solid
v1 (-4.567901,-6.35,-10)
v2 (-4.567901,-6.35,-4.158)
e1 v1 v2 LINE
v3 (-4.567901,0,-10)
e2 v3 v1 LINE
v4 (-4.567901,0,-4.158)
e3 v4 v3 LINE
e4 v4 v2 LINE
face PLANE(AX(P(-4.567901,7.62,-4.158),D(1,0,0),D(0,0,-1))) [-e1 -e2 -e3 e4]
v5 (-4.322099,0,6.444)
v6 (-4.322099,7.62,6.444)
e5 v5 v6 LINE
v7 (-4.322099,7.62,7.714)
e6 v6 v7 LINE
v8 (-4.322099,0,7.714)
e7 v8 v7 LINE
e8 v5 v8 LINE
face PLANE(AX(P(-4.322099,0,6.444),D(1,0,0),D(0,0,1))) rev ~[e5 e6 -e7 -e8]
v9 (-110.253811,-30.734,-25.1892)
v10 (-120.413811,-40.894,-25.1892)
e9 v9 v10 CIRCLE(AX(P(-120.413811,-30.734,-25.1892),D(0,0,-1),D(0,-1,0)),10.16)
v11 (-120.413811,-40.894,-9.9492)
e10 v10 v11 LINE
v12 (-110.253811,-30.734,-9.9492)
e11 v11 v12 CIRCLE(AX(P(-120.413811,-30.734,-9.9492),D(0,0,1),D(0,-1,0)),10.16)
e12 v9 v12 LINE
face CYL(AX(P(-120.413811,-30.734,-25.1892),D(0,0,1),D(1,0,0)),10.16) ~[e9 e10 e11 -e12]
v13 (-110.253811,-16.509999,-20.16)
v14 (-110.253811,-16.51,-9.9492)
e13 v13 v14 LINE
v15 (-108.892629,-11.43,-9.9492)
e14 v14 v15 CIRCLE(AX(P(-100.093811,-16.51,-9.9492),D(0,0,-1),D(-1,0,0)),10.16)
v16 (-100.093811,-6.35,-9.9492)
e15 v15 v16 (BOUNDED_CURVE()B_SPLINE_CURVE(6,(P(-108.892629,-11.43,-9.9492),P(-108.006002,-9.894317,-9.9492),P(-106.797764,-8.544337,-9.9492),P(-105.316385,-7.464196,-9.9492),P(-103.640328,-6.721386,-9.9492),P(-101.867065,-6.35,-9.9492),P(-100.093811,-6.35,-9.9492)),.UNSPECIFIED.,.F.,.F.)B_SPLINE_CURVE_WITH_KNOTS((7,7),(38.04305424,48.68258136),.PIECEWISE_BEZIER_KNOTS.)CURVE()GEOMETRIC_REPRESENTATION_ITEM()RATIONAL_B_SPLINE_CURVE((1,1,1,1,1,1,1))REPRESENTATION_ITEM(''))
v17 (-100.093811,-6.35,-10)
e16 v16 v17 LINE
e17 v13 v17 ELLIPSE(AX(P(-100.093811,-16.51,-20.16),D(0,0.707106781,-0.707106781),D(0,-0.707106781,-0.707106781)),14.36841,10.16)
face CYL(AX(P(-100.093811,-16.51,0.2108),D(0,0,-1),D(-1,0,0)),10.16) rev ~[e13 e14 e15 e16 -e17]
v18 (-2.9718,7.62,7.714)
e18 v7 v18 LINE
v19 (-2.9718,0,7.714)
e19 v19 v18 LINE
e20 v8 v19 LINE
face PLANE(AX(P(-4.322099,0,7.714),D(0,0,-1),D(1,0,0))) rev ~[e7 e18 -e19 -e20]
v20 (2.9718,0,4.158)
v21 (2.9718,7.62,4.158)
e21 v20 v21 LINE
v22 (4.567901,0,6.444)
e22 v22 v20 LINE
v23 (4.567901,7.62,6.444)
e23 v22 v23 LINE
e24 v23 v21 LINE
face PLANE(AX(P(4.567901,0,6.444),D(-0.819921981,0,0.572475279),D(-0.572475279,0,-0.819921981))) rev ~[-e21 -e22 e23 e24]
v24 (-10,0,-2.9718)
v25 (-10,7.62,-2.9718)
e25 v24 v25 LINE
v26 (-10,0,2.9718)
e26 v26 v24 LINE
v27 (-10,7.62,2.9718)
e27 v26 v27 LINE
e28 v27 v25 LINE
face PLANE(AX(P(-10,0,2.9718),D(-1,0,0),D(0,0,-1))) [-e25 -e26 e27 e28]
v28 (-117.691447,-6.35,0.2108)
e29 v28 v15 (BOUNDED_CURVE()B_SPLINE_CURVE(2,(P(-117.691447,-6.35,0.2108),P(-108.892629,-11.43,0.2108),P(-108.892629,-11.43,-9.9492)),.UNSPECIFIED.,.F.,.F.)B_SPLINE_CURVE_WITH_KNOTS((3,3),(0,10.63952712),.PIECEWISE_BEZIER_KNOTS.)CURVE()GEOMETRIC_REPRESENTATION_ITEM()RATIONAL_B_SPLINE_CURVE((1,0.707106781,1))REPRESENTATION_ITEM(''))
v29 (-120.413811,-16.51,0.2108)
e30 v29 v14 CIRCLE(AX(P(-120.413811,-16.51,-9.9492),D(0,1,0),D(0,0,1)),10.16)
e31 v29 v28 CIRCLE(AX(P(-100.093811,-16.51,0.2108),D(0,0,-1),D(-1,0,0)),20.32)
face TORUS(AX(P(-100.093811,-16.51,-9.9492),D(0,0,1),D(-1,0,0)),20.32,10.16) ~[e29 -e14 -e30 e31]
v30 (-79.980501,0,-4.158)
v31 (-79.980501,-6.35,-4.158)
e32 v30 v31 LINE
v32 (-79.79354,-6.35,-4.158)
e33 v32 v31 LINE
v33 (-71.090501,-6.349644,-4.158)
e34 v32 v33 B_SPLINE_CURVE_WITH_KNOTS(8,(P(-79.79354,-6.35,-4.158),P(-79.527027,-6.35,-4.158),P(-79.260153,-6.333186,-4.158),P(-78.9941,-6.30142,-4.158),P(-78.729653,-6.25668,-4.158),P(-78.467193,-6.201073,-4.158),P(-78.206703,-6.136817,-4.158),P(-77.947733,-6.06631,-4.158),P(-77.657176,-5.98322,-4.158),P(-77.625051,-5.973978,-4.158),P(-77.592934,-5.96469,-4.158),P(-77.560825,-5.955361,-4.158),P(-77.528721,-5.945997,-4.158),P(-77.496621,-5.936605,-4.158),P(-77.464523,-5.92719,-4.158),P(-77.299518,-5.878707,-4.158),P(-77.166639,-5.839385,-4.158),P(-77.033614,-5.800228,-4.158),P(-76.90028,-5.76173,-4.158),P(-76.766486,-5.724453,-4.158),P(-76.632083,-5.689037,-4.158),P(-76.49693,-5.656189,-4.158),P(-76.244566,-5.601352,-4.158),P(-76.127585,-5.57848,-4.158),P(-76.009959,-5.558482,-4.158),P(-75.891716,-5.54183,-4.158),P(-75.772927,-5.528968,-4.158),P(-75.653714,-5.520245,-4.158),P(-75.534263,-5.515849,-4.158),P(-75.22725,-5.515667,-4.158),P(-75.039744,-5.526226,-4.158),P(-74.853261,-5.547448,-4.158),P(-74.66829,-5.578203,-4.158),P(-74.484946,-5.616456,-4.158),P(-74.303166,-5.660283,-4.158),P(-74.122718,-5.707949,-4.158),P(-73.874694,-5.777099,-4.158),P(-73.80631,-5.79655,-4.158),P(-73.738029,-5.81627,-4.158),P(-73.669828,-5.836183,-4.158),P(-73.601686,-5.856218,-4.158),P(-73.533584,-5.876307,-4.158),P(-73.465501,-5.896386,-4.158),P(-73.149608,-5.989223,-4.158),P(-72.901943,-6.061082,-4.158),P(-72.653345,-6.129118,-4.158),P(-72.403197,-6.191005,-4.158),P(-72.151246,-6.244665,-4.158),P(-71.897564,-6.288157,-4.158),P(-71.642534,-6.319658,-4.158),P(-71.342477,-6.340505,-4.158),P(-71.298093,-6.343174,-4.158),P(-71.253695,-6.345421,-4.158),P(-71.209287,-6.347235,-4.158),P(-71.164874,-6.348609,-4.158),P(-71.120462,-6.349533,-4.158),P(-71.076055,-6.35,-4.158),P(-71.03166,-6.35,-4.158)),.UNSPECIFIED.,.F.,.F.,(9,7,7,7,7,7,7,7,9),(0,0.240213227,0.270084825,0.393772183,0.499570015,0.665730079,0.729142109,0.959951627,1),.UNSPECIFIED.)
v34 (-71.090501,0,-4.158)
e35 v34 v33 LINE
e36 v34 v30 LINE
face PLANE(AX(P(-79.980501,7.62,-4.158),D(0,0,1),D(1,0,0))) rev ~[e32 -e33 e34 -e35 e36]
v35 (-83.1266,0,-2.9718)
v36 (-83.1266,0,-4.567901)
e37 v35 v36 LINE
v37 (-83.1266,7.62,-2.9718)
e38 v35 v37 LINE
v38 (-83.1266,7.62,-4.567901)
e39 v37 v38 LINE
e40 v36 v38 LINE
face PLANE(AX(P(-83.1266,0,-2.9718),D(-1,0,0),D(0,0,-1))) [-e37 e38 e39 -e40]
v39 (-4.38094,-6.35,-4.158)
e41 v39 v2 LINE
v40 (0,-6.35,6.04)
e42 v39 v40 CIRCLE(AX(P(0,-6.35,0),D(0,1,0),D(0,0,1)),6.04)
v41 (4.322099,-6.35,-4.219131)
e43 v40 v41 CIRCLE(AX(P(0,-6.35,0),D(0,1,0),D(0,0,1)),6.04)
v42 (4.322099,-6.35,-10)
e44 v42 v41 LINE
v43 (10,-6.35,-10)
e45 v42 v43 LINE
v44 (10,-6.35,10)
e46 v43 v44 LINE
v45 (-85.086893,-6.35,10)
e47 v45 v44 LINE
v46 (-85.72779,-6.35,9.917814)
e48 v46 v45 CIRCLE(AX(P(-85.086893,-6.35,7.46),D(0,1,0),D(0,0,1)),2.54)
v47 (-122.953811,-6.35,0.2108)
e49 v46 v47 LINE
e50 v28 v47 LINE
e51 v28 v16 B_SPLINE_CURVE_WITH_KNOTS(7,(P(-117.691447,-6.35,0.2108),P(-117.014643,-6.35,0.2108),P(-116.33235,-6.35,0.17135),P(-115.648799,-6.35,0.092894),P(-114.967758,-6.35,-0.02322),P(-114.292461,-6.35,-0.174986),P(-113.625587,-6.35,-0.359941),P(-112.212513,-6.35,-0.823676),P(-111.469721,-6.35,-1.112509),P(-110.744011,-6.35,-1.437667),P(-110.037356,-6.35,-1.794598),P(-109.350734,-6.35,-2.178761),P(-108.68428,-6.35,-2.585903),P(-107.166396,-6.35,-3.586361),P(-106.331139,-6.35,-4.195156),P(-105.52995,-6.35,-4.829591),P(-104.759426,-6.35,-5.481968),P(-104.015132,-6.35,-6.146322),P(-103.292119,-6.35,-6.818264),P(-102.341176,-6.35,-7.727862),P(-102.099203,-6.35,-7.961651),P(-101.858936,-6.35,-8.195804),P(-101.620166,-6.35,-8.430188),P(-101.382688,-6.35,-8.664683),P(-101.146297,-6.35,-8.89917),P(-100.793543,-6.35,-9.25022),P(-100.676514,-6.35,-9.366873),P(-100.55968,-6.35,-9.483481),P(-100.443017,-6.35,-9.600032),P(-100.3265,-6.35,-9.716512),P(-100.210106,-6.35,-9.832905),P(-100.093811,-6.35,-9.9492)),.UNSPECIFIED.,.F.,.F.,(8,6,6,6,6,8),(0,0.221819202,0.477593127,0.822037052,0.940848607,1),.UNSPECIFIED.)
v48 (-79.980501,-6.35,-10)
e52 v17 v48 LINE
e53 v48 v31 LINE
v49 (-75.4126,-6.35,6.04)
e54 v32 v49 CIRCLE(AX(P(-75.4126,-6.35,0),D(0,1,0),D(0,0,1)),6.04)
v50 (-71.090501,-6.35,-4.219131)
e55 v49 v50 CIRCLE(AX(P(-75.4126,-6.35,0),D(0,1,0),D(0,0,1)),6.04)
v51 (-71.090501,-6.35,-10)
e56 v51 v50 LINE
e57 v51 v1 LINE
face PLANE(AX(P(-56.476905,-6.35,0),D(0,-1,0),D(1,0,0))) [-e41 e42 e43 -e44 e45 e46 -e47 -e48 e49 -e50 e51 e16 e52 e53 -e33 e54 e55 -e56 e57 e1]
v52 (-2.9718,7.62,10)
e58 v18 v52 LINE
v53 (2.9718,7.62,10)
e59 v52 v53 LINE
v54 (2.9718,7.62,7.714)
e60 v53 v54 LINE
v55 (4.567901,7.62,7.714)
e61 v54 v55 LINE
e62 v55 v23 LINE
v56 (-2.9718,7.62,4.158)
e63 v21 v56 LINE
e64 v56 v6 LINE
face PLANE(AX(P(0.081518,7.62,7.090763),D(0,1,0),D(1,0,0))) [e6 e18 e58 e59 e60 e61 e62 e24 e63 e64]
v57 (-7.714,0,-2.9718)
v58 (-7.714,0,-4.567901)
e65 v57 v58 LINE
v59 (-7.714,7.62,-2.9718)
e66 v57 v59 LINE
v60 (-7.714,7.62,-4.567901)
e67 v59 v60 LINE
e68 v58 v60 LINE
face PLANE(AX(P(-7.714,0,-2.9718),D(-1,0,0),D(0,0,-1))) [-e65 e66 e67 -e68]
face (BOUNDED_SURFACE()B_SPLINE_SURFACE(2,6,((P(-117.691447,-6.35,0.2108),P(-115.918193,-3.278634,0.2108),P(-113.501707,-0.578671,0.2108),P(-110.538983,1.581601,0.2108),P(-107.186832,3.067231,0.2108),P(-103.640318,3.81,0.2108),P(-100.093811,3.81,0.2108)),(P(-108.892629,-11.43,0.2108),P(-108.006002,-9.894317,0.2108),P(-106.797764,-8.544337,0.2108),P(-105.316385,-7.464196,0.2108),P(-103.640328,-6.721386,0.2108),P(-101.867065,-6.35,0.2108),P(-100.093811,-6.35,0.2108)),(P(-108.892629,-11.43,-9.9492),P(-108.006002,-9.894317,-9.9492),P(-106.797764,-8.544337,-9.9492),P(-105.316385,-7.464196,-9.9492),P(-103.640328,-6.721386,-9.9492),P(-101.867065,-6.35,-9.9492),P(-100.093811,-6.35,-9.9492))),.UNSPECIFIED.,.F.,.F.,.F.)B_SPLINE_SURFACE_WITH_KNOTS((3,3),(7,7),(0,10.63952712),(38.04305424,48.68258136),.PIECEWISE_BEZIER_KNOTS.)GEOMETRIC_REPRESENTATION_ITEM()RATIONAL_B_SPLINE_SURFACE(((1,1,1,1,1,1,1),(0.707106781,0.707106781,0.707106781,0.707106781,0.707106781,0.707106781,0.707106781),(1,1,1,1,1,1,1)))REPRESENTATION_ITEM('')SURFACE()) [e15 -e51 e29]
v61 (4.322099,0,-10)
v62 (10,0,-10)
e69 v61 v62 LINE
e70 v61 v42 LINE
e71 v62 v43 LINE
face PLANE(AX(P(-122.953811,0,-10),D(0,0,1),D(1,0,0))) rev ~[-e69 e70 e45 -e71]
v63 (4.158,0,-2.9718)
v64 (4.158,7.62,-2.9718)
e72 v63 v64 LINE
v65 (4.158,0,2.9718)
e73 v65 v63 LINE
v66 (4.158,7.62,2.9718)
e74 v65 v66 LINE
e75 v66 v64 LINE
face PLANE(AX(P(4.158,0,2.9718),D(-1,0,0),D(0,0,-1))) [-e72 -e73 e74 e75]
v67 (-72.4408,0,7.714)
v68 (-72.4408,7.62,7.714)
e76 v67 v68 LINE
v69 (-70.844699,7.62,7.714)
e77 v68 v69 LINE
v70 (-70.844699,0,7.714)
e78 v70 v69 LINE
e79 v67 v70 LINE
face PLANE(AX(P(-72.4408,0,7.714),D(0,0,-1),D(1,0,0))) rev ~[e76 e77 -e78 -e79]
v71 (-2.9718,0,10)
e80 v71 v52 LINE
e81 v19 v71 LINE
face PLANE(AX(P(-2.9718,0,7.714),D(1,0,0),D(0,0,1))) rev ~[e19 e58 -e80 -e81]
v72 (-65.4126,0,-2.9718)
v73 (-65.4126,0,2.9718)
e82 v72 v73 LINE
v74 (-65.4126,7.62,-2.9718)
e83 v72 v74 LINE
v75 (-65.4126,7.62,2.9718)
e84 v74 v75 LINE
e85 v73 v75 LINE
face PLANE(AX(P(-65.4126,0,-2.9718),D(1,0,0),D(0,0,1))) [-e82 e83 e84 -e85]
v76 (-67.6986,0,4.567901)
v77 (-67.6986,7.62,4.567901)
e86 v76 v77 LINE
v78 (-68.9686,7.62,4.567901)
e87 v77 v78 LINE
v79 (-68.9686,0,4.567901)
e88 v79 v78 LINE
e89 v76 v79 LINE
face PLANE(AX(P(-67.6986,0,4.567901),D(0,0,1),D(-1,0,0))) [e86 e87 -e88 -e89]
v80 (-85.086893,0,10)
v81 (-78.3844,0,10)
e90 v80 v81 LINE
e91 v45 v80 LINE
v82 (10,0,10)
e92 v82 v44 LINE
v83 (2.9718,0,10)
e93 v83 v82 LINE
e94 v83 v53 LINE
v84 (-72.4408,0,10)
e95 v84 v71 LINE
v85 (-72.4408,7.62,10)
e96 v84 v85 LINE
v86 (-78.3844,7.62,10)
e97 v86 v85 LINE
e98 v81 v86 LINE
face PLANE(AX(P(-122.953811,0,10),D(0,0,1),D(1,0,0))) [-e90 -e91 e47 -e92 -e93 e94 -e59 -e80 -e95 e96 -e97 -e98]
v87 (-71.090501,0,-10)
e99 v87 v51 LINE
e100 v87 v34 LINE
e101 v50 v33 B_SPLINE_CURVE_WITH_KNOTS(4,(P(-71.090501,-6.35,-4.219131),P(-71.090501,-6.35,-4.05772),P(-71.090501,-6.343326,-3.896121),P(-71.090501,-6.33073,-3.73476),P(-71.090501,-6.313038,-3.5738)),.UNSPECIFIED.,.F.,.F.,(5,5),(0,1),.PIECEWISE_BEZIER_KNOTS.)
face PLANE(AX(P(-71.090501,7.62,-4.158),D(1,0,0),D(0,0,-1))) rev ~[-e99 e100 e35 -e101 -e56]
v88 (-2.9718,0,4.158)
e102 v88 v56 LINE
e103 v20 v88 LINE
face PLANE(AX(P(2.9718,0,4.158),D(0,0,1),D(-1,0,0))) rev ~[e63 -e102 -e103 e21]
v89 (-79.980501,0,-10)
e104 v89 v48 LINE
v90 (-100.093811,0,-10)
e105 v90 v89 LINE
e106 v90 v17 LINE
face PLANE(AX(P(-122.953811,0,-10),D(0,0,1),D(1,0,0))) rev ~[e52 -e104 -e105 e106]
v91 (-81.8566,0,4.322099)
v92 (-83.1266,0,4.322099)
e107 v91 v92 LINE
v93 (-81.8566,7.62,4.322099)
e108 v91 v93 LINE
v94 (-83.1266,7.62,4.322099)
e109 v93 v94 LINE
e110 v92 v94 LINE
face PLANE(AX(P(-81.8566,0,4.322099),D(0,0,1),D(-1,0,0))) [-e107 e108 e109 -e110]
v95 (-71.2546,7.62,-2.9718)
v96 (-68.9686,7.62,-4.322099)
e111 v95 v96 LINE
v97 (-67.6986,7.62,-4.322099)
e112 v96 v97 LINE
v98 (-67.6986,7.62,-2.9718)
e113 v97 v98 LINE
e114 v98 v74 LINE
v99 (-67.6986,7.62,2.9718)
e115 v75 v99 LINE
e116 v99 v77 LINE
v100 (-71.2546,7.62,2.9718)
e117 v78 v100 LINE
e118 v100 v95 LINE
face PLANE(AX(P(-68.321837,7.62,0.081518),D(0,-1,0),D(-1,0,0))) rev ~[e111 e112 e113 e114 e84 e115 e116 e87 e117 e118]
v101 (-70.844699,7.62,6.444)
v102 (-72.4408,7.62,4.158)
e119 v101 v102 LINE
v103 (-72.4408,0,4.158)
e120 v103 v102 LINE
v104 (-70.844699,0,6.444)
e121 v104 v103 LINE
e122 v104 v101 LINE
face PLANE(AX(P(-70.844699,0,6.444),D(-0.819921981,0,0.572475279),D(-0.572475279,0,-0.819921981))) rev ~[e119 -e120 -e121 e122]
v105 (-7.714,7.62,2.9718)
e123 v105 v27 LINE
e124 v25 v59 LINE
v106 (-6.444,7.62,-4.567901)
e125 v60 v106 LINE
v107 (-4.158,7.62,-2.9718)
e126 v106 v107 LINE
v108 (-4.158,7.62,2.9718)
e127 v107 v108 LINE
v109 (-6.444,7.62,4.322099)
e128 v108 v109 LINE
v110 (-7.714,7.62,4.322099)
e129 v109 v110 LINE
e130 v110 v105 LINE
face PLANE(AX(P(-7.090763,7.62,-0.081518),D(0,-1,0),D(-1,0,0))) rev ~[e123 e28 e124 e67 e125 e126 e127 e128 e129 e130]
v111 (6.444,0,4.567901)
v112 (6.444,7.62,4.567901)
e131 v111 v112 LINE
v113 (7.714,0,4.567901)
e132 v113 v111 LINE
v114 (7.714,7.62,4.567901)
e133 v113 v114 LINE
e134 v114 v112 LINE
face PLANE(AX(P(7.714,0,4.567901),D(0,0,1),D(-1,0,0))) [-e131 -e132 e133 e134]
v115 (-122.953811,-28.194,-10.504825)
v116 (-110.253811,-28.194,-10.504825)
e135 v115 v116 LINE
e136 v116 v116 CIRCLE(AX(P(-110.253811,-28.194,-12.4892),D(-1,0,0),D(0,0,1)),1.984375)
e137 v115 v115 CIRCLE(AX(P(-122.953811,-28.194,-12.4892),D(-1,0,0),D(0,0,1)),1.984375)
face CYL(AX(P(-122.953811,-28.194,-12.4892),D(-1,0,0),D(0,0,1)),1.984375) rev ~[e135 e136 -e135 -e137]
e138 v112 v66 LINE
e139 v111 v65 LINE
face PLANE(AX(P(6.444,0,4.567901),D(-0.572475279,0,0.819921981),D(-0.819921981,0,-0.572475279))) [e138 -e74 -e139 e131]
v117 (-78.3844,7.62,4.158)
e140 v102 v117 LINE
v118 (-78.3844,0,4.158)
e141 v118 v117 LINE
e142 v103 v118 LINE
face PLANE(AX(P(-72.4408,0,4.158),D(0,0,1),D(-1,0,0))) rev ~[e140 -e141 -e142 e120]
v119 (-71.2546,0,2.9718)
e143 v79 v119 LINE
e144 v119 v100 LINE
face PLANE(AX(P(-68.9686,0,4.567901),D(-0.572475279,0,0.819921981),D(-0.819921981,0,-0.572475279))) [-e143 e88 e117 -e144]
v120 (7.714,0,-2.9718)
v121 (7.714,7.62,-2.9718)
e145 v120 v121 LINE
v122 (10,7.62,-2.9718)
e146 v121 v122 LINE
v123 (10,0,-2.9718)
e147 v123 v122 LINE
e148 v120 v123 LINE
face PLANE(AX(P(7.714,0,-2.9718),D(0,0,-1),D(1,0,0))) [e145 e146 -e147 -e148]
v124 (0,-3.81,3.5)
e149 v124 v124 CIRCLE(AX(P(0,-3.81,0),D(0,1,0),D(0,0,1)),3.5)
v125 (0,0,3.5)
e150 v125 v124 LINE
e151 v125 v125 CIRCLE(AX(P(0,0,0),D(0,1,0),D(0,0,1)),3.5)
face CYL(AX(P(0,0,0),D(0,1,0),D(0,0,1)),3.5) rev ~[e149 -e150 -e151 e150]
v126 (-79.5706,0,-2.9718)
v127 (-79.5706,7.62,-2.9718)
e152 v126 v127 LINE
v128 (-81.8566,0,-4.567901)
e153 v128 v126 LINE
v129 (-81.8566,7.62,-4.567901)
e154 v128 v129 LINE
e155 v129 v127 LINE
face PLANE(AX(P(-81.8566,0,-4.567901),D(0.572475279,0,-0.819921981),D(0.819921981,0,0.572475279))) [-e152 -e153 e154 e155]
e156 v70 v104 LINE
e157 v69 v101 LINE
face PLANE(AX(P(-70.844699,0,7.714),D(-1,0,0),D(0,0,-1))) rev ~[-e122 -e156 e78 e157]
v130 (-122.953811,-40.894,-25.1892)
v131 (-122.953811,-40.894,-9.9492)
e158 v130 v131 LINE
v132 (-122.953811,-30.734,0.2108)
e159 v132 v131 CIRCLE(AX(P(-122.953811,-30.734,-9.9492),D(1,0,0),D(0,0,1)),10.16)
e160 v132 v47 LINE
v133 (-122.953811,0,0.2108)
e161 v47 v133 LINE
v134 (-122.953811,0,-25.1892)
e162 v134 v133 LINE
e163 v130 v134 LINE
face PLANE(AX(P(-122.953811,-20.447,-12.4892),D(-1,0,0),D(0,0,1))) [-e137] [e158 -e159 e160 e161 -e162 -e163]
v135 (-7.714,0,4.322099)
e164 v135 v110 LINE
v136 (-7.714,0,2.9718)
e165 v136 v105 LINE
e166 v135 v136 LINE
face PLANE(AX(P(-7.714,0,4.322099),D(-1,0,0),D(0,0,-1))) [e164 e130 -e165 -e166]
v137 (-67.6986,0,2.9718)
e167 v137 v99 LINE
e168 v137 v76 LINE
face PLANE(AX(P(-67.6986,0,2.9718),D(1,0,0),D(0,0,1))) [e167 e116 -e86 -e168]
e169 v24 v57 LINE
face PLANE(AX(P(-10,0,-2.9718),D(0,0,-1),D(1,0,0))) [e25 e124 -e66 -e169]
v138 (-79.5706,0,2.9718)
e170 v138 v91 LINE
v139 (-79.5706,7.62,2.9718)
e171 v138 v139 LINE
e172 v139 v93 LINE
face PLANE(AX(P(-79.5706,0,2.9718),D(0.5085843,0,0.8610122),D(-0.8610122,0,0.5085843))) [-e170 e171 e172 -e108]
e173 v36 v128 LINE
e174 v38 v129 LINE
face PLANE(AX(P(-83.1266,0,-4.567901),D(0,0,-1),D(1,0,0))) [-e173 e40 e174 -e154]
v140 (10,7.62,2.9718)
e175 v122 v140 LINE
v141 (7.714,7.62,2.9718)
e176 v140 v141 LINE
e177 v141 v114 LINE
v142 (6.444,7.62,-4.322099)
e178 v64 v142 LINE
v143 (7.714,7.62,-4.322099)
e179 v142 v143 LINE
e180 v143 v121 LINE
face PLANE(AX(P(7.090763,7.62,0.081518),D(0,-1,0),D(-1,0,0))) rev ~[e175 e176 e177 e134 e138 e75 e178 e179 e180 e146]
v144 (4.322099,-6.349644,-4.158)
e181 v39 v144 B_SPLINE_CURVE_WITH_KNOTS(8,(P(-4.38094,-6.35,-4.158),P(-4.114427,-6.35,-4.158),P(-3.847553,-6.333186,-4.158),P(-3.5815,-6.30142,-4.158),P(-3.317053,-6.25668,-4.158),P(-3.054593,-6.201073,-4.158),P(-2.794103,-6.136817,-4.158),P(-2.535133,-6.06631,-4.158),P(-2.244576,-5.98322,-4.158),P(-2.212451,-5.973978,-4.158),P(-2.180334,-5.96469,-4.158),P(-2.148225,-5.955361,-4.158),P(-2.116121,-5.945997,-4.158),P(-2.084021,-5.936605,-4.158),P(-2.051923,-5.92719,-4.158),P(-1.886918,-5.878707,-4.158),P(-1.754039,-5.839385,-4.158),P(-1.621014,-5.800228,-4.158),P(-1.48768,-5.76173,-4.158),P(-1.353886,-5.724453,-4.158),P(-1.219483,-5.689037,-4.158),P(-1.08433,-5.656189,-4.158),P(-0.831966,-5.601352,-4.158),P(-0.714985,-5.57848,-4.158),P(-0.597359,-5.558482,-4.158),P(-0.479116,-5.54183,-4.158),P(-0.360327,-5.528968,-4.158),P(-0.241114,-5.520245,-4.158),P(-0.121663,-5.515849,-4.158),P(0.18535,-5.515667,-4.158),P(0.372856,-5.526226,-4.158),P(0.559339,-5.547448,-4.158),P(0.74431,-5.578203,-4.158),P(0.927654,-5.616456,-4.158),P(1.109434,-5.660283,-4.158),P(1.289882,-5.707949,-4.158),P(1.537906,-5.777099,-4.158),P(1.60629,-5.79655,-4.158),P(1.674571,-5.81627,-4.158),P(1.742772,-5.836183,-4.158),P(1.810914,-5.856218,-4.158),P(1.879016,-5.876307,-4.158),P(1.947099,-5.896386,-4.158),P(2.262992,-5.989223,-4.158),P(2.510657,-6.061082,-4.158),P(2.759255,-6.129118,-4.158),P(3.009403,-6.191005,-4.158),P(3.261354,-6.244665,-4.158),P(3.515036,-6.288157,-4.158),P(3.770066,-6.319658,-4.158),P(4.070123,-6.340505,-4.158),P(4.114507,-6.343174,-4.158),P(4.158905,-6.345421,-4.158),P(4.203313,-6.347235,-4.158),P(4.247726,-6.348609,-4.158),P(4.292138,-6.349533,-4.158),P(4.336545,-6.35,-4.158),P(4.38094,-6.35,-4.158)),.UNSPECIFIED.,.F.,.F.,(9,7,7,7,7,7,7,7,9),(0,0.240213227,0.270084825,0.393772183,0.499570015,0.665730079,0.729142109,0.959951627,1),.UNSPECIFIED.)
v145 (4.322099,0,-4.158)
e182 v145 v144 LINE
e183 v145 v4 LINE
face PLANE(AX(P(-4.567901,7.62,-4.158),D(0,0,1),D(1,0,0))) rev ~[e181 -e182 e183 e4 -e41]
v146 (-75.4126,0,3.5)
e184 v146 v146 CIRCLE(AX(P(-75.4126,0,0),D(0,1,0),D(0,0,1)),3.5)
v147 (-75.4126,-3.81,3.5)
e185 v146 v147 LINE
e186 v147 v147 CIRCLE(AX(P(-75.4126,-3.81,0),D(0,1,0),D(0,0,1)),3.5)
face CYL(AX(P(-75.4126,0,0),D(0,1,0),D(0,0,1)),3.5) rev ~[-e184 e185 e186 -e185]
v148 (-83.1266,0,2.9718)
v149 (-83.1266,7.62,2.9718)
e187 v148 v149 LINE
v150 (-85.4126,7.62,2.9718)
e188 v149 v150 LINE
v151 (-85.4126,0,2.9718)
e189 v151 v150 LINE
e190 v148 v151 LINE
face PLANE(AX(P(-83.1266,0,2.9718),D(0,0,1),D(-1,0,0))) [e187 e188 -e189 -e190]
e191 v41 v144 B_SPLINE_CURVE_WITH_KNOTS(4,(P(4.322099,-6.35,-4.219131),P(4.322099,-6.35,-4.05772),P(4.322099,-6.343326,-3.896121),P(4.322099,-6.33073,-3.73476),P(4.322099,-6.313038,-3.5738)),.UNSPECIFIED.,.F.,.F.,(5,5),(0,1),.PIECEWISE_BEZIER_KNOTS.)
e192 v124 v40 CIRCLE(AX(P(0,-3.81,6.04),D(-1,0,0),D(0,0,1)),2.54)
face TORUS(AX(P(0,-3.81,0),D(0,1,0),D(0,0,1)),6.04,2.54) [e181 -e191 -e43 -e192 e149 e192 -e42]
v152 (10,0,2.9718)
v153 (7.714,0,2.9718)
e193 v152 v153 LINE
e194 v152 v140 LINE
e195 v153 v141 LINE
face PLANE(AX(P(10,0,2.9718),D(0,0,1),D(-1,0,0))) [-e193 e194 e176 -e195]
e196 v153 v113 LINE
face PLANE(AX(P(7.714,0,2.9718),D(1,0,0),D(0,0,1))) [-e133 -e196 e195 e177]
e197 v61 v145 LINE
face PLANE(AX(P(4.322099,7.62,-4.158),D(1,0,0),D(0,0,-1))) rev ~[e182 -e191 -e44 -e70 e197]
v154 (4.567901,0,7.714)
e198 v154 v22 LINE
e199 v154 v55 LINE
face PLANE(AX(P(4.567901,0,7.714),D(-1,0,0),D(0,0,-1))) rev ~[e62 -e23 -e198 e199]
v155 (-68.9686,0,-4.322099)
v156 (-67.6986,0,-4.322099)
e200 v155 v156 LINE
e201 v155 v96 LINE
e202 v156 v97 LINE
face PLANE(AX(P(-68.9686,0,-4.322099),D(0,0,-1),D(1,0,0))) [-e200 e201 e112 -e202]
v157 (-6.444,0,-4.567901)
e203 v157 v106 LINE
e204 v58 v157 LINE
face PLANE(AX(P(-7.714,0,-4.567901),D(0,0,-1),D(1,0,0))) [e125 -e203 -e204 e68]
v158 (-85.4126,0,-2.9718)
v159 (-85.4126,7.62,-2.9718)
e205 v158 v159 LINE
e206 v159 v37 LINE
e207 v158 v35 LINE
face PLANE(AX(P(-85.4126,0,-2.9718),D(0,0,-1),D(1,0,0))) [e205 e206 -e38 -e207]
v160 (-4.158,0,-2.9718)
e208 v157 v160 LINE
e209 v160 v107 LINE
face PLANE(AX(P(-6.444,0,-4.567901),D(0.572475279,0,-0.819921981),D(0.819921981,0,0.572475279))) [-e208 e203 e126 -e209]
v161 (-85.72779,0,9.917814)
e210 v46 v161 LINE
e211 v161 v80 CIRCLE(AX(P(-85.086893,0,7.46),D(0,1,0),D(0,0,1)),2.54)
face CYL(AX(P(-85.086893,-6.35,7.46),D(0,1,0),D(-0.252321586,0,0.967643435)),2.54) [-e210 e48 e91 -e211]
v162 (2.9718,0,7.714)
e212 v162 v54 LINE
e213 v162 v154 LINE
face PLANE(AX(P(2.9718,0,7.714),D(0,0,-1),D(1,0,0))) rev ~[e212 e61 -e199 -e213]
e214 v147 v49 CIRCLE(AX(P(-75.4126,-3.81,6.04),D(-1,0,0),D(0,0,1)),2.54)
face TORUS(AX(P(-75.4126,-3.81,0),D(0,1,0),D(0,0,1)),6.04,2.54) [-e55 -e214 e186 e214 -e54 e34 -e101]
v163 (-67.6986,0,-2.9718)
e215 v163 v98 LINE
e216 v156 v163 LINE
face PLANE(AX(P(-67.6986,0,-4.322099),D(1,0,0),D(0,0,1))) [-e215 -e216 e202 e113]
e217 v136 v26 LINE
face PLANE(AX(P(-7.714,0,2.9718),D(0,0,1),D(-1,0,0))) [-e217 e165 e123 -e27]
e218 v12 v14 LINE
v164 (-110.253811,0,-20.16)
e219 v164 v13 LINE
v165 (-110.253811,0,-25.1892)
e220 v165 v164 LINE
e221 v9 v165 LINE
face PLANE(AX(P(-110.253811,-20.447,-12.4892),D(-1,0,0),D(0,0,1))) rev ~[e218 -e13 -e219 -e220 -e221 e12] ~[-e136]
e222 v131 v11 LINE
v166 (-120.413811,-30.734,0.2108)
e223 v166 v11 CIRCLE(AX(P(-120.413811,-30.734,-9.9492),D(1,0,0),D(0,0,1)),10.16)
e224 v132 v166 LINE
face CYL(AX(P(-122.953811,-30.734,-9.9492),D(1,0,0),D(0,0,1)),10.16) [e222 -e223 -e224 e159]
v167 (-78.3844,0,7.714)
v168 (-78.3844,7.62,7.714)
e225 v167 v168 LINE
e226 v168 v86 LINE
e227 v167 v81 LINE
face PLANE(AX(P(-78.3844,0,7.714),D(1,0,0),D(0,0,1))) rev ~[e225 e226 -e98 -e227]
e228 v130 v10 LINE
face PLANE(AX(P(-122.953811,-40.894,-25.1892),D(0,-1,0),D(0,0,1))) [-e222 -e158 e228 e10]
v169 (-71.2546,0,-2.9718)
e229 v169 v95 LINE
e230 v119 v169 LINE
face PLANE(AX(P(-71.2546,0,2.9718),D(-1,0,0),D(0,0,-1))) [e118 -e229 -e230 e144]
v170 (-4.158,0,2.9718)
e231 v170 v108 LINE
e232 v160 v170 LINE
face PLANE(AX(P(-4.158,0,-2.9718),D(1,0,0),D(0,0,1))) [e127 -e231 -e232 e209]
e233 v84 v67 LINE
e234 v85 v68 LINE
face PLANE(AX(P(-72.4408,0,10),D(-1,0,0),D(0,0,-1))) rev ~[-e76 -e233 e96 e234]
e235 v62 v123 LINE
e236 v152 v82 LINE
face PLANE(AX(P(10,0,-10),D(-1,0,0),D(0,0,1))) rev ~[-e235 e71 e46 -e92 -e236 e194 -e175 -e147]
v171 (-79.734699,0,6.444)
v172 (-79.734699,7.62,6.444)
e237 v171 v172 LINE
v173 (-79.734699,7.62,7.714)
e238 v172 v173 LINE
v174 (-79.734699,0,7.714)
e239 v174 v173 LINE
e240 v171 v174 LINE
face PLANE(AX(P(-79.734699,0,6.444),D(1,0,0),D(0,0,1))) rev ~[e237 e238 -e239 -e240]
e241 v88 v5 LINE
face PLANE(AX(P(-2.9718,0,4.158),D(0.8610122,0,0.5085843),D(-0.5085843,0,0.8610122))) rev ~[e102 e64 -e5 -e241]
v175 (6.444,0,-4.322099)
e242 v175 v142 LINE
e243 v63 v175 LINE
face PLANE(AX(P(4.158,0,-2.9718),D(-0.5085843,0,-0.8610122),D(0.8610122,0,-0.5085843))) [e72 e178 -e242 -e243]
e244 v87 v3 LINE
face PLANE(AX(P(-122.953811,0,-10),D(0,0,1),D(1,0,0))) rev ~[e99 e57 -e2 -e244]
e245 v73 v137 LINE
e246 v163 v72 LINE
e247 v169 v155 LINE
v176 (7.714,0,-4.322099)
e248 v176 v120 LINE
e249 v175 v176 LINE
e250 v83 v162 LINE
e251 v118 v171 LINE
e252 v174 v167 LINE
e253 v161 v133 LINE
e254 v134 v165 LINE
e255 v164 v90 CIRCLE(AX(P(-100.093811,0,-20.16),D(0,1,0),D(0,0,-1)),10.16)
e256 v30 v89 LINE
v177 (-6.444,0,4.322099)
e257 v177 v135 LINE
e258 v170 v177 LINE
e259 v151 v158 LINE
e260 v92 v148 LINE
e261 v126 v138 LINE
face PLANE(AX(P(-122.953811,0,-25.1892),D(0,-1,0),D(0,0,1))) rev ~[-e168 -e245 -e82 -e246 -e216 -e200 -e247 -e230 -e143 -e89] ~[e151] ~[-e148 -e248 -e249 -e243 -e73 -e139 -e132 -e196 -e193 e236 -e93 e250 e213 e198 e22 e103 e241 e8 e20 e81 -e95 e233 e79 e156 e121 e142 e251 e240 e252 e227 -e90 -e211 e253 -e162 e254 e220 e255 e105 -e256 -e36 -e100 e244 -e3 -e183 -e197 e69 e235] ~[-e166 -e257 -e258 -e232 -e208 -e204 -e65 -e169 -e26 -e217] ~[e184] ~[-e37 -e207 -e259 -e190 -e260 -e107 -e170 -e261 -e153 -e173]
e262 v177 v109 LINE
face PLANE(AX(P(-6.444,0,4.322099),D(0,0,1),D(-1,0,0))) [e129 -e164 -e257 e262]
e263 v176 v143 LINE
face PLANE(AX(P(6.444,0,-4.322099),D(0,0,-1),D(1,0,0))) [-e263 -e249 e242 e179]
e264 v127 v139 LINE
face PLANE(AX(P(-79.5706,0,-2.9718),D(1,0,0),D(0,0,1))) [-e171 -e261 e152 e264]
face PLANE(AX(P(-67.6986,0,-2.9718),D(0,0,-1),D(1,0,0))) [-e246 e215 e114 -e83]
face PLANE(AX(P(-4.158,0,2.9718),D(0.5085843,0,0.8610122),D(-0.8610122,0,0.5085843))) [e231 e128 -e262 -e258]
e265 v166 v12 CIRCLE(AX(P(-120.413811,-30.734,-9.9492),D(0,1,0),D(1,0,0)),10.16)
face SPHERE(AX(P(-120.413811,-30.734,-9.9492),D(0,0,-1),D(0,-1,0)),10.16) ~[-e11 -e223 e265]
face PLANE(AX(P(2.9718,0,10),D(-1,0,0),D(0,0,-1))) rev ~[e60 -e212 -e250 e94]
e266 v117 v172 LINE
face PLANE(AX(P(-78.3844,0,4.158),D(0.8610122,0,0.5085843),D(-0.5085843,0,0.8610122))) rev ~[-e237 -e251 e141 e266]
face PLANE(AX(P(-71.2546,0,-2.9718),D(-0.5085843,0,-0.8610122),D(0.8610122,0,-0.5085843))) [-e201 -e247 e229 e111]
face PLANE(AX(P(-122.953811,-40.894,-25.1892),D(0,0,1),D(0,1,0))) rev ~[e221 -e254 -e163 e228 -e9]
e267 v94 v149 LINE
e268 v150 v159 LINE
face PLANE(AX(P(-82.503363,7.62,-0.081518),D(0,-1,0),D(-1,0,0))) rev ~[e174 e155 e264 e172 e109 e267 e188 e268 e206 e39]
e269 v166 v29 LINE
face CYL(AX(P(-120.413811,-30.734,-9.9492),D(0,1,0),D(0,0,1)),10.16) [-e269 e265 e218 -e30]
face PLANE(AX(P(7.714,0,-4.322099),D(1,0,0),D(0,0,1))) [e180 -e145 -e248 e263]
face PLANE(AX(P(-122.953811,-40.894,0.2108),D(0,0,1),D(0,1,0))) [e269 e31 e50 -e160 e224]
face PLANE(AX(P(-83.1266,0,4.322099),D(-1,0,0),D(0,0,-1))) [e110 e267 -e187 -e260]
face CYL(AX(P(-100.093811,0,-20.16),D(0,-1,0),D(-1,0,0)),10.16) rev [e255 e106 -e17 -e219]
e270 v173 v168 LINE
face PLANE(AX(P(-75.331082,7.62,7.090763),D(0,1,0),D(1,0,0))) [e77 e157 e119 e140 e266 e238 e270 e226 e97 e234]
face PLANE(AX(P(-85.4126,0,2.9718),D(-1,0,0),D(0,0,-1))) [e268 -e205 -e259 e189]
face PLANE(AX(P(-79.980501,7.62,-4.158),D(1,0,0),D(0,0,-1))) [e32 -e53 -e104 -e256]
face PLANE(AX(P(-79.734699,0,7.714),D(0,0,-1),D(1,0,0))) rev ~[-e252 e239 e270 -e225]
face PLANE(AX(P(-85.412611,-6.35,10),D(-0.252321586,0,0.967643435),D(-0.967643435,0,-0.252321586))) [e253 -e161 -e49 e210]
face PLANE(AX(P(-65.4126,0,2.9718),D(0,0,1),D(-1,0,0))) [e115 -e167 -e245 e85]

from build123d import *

# Parameters (mm, degrees)
BOSS_EXTRUDE1_DEPTH   = 7.62
BOSS_EXTRUDE1_2_DEPTH = 7.62
BOSS_EXTRUDE1_3_DEPTH = 7.62
BOSS_EXTRUDE1_4_DEPTH = 7.62
SKETCH2_W             = 132.9538108
SKETCH2_H             = 20
BOSS_EXTRUDE2_DEPTH   = 6.35
LPATTERN2_COUNT       = 2
LPATTERN2_PITCH       = 75.4126
CUT_EXTRUDE1_DEPTH    = 125.148300392
FILLET1_R             = 2.54
SKETCH13_R            = 3.5
CUT_EXTRUDE5_DEPTH    = 124.59491895
FILLET6_R             = 2.54
SKETCH14_W            = 8.89
SKETCH14_H            = 5.842
CUT_EXTRUDE6_DEPTH    = 125.148300392
SKETCH15_W            = 25.4
SKETCH15_H            = 40.894
BOSS_EXTRUDE3_DEPTH   = 12.7
FILLET15_R            = 10.16
FILLET16_R            = 10.16
FILLET17_R            = 10.16
FILLET18_R            = 10.16
SKETCH18_R            = 1.984375
CUT_EXTRUDE9_DEPTH    = 12.7


with BuildPart() as part:
    # Sketch1 → Boss-Extrude1 (new body)
    with BuildSketch(Plane(origin=(0, 0, 0), x_dir=(1, 0, 0), z_dir=(0, 1, 0))):
        Polygon((2.9718, 10), (-2.9718, 10), (-2.9718, 7.714), (-4.567901235, 7.714), (-4.567901235, 6.444), (-2.9718, 4.158), (2.9718, 4.158), (4.322098765, 6.444), (4.322098765, 7.714), (2.9718, 7.714), align=None)
    boss_extrude1 = extrude(amount=BOSS_EXTRUDE1_DEPTH)



with BuildPart() as body_2:
    # Sketch1 → Boss-Extrude1 2 (new body)
    with BuildSketch(Plane(origin=(0, 0, 0), x_dir=(1, 0, 0), z_dir=(0, 1, 0))):
        Polygon((4.158, -2.9718), (4.158, 2.9718), (6.444, 4.322098765), (7.714, 4.322098765), (7.714, 2.9718), (10, 2.9718), (10, -2.9718), (7.714, -2.9718), (7.714, -4.567901235), (6.444, -4.567901235), align=None)
    boss_extrude1_2 = extrude(amount=BOSS_EXTRUDE1_2_DEPTH)


with BuildPart() as body_3:
    # Sketch1 → Boss-Extrude1 3 (new body)
    with BuildSketch(Plane(origin=(0, 0, 0), x_dir=(1, 0, 0), z_dir=(0, 1, 0))):
        Polygon((-10, -2.9718), (-10, 2.9718), (-7.714, 2.9718), (-7.714, 4.567901235), (-6.444, 4.567901235), (-4.158, 2.9718), (-4.158, -2.9718), (-6.444, -4.322098765), (-7.714, -4.322098765), (-7.714, -2.9718), align=None)
    boss_extrude1_3 = extrude(amount=BOSS_EXTRUDE1_3_DEPTH)


with BuildPart() as body_4:
    # Sketch1 → Boss-Extrude1 4 (new body)
    with BuildSketch(Plane(origin=(0, 0, 0), x_dir=(1, 0, 0), z_dir=(0, 1, 0))):
        Polygon((4.567901235, -6.444), (2.9718, -4.158), (-2.9718, -4.158), (-4.322098765, -6.444), (-4.322098765, -7.714), (-2.9718, -7.714), (-2.9718, -10), (2.9718, -10), (2.9718, -7.714), (4.567901235, -7.714), align=None)
    boss_extrude1_4 = extrude(amount=BOSS_EXTRUDE1_4_DEPTH)


with BuildPart() as part_1:
    add(part.part)

    add(body_2.part)  # Boss-Extrude2 merges body 2

    add(body_3.part)  # Boss-Extrude2 merges body 3

    add(body_4.part)  # Boss-Extrude2 merges body 4
    # Sketch2 → Boss-Extrude2 (add)
    with BuildSketch(Plane.XZ):
        with Locations((-56.4769054, 0)):
            Rectangle(SKETCH2_W, SKETCH2_H)
    extrude(amount=BOSS_EXTRUDE2_DEPTH)

    # LPattern2: Boss-Extrude1, Boss-Extrude1 2, Boss-Extrude1 3, Boss-Extrude1 4 ×2
    with Locations(*[(-i * LPATTERN2_PITCH, 0, 0) for i in range(1, LPATTERN2_COUNT)]):
        add(boss_extrude1)
        add(boss_extrude1_2)
        add(boss_extrude1_3)
        add(boss_extrude1_4)

    # Sketch4 → Cut-Extrude1 (cut, through all)
    with BuildSketch(Plane(origin=(0, -6.35, 0), x_dir=(-1, 0, 0), z_dir=(0, -1, 0))):
        Polygon((122.9538108, -10), (85.4126108, -10), (122.9538108, -0.2108), align=None)
    extrude(amount=-CUT_EXTRUDE1_DEPTH, mode=Mode.SUBTRACT)

    # Fillet1
    fillet1_edges = [part_1.edges().sort_by_distance(p)[0] for p in [
        (-85.4126108, -3.175, 10),
    ]]
    fillet(fillet1_edges, radius=FILLET1_R)

    # Sketch13 → Cut-Extrude5 (cut, through all)
    with BuildSketch(Plane(origin=(0, 0, 0), x_dir=(1, 0, 0), z_dir=(0, 1, 0))):
        with Locations(Location((0, 0, 0), (0, 0, 270))):
            Circle(SKETCH13_R)
        with Locations(Location((-75.4126, 0, 0), (0, 0, 270))):
            Circle(SKETCH13_R)
    extrude(amount=-CUT_EXTRUDE5_DEPTH, mode=Mode.SUBTRACT)

    # Fillet6
    fillet6_edges = [part_1.edges().sort_by_distance(p)[0] for p in [
        (0, -6.35, -3.5),
        (-75.4126, -6.35, -3.5),
    ]]
    fillet(fillet6_edges, radius=FILLET6_R)

    # Sketch14 → Cut-Extrude6 (cut, through all)
    with BuildSketch(Plane(origin=(0, 7.62, 0), x_dir=(1, 0, 0), z_dir=(0, 1, 0))):
        with Locations((-0.122901235, 7.079)):
            Rectangle(SKETCH14_W, SKETCH14_H)
        with Locations((-75.535501235, 7.079)):
            Rectangle(SKETCH14_W, SKETCH14_H)
    extrude(amount=-CUT_EXTRUDE6_DEPTH, mode=Mode.SUBTRACT)

    # Sketch15 → Boss-Extrude3 (add)
    with BuildSketch(Plane.ZY.offset(122.9538108)):
        with Locations((-12.4892, -20.447)):
            Rectangle(SKETCH15_W, SKETCH15_H)
    extrude(amount=-BOSS_EXTRUDE3_DEPTH)

    # Fillet15
    fillet15_edges = [part_1.edges().sort_by_distance(p)[0] for p in [
        (-110.2538108, -6.35, -4.8946),
    ]]
    fillet(fillet15_edges, radius=FILLET15_R)

    # Fillet16
    fillet16_edges = [part_1.edges().sort_by_distance(p)[0] for p in [
        (-110.2538108, -8.255, -10),
    ]]
    fillet(fillet16_edges, radius=FILLET16_R)

    # Fillet17
    fillet17_edges = [part_1.edges().sort_by_distance(p)[0] for p in [
        (-110.2538108, -40.894, -12.4892),
    ]]
    fillet(fillet17_edges, radius=FILLET17_R)

    # Fillet18
    fillet18_edges = [part_1.edges().sort_by_distance(p)[0] for p in [
        (-107.278015697, -9.325795103, 0.2108),
        (-121.6838108, -40.894, 0.2108),
        (-110.2538108, -23.622, 0.2108),
        (-113.229605903, -37.918204897, 0.2108),
    ]]
    fillet(fillet18_edges, radius=FILLET18_R)

    # Sketch18 → Cut-Extrude9 (cut)
    with BuildSketch(Plane.ZY.offset(122.9538108)):
        with Locations((-12.4892, -28.194)):
            Circle(SKETCH18_R)
    extrude(amount=-CUT_EXTRUDE9_DEPTH, mode=Mode.SUBTRACT)


solid = part_1.part
